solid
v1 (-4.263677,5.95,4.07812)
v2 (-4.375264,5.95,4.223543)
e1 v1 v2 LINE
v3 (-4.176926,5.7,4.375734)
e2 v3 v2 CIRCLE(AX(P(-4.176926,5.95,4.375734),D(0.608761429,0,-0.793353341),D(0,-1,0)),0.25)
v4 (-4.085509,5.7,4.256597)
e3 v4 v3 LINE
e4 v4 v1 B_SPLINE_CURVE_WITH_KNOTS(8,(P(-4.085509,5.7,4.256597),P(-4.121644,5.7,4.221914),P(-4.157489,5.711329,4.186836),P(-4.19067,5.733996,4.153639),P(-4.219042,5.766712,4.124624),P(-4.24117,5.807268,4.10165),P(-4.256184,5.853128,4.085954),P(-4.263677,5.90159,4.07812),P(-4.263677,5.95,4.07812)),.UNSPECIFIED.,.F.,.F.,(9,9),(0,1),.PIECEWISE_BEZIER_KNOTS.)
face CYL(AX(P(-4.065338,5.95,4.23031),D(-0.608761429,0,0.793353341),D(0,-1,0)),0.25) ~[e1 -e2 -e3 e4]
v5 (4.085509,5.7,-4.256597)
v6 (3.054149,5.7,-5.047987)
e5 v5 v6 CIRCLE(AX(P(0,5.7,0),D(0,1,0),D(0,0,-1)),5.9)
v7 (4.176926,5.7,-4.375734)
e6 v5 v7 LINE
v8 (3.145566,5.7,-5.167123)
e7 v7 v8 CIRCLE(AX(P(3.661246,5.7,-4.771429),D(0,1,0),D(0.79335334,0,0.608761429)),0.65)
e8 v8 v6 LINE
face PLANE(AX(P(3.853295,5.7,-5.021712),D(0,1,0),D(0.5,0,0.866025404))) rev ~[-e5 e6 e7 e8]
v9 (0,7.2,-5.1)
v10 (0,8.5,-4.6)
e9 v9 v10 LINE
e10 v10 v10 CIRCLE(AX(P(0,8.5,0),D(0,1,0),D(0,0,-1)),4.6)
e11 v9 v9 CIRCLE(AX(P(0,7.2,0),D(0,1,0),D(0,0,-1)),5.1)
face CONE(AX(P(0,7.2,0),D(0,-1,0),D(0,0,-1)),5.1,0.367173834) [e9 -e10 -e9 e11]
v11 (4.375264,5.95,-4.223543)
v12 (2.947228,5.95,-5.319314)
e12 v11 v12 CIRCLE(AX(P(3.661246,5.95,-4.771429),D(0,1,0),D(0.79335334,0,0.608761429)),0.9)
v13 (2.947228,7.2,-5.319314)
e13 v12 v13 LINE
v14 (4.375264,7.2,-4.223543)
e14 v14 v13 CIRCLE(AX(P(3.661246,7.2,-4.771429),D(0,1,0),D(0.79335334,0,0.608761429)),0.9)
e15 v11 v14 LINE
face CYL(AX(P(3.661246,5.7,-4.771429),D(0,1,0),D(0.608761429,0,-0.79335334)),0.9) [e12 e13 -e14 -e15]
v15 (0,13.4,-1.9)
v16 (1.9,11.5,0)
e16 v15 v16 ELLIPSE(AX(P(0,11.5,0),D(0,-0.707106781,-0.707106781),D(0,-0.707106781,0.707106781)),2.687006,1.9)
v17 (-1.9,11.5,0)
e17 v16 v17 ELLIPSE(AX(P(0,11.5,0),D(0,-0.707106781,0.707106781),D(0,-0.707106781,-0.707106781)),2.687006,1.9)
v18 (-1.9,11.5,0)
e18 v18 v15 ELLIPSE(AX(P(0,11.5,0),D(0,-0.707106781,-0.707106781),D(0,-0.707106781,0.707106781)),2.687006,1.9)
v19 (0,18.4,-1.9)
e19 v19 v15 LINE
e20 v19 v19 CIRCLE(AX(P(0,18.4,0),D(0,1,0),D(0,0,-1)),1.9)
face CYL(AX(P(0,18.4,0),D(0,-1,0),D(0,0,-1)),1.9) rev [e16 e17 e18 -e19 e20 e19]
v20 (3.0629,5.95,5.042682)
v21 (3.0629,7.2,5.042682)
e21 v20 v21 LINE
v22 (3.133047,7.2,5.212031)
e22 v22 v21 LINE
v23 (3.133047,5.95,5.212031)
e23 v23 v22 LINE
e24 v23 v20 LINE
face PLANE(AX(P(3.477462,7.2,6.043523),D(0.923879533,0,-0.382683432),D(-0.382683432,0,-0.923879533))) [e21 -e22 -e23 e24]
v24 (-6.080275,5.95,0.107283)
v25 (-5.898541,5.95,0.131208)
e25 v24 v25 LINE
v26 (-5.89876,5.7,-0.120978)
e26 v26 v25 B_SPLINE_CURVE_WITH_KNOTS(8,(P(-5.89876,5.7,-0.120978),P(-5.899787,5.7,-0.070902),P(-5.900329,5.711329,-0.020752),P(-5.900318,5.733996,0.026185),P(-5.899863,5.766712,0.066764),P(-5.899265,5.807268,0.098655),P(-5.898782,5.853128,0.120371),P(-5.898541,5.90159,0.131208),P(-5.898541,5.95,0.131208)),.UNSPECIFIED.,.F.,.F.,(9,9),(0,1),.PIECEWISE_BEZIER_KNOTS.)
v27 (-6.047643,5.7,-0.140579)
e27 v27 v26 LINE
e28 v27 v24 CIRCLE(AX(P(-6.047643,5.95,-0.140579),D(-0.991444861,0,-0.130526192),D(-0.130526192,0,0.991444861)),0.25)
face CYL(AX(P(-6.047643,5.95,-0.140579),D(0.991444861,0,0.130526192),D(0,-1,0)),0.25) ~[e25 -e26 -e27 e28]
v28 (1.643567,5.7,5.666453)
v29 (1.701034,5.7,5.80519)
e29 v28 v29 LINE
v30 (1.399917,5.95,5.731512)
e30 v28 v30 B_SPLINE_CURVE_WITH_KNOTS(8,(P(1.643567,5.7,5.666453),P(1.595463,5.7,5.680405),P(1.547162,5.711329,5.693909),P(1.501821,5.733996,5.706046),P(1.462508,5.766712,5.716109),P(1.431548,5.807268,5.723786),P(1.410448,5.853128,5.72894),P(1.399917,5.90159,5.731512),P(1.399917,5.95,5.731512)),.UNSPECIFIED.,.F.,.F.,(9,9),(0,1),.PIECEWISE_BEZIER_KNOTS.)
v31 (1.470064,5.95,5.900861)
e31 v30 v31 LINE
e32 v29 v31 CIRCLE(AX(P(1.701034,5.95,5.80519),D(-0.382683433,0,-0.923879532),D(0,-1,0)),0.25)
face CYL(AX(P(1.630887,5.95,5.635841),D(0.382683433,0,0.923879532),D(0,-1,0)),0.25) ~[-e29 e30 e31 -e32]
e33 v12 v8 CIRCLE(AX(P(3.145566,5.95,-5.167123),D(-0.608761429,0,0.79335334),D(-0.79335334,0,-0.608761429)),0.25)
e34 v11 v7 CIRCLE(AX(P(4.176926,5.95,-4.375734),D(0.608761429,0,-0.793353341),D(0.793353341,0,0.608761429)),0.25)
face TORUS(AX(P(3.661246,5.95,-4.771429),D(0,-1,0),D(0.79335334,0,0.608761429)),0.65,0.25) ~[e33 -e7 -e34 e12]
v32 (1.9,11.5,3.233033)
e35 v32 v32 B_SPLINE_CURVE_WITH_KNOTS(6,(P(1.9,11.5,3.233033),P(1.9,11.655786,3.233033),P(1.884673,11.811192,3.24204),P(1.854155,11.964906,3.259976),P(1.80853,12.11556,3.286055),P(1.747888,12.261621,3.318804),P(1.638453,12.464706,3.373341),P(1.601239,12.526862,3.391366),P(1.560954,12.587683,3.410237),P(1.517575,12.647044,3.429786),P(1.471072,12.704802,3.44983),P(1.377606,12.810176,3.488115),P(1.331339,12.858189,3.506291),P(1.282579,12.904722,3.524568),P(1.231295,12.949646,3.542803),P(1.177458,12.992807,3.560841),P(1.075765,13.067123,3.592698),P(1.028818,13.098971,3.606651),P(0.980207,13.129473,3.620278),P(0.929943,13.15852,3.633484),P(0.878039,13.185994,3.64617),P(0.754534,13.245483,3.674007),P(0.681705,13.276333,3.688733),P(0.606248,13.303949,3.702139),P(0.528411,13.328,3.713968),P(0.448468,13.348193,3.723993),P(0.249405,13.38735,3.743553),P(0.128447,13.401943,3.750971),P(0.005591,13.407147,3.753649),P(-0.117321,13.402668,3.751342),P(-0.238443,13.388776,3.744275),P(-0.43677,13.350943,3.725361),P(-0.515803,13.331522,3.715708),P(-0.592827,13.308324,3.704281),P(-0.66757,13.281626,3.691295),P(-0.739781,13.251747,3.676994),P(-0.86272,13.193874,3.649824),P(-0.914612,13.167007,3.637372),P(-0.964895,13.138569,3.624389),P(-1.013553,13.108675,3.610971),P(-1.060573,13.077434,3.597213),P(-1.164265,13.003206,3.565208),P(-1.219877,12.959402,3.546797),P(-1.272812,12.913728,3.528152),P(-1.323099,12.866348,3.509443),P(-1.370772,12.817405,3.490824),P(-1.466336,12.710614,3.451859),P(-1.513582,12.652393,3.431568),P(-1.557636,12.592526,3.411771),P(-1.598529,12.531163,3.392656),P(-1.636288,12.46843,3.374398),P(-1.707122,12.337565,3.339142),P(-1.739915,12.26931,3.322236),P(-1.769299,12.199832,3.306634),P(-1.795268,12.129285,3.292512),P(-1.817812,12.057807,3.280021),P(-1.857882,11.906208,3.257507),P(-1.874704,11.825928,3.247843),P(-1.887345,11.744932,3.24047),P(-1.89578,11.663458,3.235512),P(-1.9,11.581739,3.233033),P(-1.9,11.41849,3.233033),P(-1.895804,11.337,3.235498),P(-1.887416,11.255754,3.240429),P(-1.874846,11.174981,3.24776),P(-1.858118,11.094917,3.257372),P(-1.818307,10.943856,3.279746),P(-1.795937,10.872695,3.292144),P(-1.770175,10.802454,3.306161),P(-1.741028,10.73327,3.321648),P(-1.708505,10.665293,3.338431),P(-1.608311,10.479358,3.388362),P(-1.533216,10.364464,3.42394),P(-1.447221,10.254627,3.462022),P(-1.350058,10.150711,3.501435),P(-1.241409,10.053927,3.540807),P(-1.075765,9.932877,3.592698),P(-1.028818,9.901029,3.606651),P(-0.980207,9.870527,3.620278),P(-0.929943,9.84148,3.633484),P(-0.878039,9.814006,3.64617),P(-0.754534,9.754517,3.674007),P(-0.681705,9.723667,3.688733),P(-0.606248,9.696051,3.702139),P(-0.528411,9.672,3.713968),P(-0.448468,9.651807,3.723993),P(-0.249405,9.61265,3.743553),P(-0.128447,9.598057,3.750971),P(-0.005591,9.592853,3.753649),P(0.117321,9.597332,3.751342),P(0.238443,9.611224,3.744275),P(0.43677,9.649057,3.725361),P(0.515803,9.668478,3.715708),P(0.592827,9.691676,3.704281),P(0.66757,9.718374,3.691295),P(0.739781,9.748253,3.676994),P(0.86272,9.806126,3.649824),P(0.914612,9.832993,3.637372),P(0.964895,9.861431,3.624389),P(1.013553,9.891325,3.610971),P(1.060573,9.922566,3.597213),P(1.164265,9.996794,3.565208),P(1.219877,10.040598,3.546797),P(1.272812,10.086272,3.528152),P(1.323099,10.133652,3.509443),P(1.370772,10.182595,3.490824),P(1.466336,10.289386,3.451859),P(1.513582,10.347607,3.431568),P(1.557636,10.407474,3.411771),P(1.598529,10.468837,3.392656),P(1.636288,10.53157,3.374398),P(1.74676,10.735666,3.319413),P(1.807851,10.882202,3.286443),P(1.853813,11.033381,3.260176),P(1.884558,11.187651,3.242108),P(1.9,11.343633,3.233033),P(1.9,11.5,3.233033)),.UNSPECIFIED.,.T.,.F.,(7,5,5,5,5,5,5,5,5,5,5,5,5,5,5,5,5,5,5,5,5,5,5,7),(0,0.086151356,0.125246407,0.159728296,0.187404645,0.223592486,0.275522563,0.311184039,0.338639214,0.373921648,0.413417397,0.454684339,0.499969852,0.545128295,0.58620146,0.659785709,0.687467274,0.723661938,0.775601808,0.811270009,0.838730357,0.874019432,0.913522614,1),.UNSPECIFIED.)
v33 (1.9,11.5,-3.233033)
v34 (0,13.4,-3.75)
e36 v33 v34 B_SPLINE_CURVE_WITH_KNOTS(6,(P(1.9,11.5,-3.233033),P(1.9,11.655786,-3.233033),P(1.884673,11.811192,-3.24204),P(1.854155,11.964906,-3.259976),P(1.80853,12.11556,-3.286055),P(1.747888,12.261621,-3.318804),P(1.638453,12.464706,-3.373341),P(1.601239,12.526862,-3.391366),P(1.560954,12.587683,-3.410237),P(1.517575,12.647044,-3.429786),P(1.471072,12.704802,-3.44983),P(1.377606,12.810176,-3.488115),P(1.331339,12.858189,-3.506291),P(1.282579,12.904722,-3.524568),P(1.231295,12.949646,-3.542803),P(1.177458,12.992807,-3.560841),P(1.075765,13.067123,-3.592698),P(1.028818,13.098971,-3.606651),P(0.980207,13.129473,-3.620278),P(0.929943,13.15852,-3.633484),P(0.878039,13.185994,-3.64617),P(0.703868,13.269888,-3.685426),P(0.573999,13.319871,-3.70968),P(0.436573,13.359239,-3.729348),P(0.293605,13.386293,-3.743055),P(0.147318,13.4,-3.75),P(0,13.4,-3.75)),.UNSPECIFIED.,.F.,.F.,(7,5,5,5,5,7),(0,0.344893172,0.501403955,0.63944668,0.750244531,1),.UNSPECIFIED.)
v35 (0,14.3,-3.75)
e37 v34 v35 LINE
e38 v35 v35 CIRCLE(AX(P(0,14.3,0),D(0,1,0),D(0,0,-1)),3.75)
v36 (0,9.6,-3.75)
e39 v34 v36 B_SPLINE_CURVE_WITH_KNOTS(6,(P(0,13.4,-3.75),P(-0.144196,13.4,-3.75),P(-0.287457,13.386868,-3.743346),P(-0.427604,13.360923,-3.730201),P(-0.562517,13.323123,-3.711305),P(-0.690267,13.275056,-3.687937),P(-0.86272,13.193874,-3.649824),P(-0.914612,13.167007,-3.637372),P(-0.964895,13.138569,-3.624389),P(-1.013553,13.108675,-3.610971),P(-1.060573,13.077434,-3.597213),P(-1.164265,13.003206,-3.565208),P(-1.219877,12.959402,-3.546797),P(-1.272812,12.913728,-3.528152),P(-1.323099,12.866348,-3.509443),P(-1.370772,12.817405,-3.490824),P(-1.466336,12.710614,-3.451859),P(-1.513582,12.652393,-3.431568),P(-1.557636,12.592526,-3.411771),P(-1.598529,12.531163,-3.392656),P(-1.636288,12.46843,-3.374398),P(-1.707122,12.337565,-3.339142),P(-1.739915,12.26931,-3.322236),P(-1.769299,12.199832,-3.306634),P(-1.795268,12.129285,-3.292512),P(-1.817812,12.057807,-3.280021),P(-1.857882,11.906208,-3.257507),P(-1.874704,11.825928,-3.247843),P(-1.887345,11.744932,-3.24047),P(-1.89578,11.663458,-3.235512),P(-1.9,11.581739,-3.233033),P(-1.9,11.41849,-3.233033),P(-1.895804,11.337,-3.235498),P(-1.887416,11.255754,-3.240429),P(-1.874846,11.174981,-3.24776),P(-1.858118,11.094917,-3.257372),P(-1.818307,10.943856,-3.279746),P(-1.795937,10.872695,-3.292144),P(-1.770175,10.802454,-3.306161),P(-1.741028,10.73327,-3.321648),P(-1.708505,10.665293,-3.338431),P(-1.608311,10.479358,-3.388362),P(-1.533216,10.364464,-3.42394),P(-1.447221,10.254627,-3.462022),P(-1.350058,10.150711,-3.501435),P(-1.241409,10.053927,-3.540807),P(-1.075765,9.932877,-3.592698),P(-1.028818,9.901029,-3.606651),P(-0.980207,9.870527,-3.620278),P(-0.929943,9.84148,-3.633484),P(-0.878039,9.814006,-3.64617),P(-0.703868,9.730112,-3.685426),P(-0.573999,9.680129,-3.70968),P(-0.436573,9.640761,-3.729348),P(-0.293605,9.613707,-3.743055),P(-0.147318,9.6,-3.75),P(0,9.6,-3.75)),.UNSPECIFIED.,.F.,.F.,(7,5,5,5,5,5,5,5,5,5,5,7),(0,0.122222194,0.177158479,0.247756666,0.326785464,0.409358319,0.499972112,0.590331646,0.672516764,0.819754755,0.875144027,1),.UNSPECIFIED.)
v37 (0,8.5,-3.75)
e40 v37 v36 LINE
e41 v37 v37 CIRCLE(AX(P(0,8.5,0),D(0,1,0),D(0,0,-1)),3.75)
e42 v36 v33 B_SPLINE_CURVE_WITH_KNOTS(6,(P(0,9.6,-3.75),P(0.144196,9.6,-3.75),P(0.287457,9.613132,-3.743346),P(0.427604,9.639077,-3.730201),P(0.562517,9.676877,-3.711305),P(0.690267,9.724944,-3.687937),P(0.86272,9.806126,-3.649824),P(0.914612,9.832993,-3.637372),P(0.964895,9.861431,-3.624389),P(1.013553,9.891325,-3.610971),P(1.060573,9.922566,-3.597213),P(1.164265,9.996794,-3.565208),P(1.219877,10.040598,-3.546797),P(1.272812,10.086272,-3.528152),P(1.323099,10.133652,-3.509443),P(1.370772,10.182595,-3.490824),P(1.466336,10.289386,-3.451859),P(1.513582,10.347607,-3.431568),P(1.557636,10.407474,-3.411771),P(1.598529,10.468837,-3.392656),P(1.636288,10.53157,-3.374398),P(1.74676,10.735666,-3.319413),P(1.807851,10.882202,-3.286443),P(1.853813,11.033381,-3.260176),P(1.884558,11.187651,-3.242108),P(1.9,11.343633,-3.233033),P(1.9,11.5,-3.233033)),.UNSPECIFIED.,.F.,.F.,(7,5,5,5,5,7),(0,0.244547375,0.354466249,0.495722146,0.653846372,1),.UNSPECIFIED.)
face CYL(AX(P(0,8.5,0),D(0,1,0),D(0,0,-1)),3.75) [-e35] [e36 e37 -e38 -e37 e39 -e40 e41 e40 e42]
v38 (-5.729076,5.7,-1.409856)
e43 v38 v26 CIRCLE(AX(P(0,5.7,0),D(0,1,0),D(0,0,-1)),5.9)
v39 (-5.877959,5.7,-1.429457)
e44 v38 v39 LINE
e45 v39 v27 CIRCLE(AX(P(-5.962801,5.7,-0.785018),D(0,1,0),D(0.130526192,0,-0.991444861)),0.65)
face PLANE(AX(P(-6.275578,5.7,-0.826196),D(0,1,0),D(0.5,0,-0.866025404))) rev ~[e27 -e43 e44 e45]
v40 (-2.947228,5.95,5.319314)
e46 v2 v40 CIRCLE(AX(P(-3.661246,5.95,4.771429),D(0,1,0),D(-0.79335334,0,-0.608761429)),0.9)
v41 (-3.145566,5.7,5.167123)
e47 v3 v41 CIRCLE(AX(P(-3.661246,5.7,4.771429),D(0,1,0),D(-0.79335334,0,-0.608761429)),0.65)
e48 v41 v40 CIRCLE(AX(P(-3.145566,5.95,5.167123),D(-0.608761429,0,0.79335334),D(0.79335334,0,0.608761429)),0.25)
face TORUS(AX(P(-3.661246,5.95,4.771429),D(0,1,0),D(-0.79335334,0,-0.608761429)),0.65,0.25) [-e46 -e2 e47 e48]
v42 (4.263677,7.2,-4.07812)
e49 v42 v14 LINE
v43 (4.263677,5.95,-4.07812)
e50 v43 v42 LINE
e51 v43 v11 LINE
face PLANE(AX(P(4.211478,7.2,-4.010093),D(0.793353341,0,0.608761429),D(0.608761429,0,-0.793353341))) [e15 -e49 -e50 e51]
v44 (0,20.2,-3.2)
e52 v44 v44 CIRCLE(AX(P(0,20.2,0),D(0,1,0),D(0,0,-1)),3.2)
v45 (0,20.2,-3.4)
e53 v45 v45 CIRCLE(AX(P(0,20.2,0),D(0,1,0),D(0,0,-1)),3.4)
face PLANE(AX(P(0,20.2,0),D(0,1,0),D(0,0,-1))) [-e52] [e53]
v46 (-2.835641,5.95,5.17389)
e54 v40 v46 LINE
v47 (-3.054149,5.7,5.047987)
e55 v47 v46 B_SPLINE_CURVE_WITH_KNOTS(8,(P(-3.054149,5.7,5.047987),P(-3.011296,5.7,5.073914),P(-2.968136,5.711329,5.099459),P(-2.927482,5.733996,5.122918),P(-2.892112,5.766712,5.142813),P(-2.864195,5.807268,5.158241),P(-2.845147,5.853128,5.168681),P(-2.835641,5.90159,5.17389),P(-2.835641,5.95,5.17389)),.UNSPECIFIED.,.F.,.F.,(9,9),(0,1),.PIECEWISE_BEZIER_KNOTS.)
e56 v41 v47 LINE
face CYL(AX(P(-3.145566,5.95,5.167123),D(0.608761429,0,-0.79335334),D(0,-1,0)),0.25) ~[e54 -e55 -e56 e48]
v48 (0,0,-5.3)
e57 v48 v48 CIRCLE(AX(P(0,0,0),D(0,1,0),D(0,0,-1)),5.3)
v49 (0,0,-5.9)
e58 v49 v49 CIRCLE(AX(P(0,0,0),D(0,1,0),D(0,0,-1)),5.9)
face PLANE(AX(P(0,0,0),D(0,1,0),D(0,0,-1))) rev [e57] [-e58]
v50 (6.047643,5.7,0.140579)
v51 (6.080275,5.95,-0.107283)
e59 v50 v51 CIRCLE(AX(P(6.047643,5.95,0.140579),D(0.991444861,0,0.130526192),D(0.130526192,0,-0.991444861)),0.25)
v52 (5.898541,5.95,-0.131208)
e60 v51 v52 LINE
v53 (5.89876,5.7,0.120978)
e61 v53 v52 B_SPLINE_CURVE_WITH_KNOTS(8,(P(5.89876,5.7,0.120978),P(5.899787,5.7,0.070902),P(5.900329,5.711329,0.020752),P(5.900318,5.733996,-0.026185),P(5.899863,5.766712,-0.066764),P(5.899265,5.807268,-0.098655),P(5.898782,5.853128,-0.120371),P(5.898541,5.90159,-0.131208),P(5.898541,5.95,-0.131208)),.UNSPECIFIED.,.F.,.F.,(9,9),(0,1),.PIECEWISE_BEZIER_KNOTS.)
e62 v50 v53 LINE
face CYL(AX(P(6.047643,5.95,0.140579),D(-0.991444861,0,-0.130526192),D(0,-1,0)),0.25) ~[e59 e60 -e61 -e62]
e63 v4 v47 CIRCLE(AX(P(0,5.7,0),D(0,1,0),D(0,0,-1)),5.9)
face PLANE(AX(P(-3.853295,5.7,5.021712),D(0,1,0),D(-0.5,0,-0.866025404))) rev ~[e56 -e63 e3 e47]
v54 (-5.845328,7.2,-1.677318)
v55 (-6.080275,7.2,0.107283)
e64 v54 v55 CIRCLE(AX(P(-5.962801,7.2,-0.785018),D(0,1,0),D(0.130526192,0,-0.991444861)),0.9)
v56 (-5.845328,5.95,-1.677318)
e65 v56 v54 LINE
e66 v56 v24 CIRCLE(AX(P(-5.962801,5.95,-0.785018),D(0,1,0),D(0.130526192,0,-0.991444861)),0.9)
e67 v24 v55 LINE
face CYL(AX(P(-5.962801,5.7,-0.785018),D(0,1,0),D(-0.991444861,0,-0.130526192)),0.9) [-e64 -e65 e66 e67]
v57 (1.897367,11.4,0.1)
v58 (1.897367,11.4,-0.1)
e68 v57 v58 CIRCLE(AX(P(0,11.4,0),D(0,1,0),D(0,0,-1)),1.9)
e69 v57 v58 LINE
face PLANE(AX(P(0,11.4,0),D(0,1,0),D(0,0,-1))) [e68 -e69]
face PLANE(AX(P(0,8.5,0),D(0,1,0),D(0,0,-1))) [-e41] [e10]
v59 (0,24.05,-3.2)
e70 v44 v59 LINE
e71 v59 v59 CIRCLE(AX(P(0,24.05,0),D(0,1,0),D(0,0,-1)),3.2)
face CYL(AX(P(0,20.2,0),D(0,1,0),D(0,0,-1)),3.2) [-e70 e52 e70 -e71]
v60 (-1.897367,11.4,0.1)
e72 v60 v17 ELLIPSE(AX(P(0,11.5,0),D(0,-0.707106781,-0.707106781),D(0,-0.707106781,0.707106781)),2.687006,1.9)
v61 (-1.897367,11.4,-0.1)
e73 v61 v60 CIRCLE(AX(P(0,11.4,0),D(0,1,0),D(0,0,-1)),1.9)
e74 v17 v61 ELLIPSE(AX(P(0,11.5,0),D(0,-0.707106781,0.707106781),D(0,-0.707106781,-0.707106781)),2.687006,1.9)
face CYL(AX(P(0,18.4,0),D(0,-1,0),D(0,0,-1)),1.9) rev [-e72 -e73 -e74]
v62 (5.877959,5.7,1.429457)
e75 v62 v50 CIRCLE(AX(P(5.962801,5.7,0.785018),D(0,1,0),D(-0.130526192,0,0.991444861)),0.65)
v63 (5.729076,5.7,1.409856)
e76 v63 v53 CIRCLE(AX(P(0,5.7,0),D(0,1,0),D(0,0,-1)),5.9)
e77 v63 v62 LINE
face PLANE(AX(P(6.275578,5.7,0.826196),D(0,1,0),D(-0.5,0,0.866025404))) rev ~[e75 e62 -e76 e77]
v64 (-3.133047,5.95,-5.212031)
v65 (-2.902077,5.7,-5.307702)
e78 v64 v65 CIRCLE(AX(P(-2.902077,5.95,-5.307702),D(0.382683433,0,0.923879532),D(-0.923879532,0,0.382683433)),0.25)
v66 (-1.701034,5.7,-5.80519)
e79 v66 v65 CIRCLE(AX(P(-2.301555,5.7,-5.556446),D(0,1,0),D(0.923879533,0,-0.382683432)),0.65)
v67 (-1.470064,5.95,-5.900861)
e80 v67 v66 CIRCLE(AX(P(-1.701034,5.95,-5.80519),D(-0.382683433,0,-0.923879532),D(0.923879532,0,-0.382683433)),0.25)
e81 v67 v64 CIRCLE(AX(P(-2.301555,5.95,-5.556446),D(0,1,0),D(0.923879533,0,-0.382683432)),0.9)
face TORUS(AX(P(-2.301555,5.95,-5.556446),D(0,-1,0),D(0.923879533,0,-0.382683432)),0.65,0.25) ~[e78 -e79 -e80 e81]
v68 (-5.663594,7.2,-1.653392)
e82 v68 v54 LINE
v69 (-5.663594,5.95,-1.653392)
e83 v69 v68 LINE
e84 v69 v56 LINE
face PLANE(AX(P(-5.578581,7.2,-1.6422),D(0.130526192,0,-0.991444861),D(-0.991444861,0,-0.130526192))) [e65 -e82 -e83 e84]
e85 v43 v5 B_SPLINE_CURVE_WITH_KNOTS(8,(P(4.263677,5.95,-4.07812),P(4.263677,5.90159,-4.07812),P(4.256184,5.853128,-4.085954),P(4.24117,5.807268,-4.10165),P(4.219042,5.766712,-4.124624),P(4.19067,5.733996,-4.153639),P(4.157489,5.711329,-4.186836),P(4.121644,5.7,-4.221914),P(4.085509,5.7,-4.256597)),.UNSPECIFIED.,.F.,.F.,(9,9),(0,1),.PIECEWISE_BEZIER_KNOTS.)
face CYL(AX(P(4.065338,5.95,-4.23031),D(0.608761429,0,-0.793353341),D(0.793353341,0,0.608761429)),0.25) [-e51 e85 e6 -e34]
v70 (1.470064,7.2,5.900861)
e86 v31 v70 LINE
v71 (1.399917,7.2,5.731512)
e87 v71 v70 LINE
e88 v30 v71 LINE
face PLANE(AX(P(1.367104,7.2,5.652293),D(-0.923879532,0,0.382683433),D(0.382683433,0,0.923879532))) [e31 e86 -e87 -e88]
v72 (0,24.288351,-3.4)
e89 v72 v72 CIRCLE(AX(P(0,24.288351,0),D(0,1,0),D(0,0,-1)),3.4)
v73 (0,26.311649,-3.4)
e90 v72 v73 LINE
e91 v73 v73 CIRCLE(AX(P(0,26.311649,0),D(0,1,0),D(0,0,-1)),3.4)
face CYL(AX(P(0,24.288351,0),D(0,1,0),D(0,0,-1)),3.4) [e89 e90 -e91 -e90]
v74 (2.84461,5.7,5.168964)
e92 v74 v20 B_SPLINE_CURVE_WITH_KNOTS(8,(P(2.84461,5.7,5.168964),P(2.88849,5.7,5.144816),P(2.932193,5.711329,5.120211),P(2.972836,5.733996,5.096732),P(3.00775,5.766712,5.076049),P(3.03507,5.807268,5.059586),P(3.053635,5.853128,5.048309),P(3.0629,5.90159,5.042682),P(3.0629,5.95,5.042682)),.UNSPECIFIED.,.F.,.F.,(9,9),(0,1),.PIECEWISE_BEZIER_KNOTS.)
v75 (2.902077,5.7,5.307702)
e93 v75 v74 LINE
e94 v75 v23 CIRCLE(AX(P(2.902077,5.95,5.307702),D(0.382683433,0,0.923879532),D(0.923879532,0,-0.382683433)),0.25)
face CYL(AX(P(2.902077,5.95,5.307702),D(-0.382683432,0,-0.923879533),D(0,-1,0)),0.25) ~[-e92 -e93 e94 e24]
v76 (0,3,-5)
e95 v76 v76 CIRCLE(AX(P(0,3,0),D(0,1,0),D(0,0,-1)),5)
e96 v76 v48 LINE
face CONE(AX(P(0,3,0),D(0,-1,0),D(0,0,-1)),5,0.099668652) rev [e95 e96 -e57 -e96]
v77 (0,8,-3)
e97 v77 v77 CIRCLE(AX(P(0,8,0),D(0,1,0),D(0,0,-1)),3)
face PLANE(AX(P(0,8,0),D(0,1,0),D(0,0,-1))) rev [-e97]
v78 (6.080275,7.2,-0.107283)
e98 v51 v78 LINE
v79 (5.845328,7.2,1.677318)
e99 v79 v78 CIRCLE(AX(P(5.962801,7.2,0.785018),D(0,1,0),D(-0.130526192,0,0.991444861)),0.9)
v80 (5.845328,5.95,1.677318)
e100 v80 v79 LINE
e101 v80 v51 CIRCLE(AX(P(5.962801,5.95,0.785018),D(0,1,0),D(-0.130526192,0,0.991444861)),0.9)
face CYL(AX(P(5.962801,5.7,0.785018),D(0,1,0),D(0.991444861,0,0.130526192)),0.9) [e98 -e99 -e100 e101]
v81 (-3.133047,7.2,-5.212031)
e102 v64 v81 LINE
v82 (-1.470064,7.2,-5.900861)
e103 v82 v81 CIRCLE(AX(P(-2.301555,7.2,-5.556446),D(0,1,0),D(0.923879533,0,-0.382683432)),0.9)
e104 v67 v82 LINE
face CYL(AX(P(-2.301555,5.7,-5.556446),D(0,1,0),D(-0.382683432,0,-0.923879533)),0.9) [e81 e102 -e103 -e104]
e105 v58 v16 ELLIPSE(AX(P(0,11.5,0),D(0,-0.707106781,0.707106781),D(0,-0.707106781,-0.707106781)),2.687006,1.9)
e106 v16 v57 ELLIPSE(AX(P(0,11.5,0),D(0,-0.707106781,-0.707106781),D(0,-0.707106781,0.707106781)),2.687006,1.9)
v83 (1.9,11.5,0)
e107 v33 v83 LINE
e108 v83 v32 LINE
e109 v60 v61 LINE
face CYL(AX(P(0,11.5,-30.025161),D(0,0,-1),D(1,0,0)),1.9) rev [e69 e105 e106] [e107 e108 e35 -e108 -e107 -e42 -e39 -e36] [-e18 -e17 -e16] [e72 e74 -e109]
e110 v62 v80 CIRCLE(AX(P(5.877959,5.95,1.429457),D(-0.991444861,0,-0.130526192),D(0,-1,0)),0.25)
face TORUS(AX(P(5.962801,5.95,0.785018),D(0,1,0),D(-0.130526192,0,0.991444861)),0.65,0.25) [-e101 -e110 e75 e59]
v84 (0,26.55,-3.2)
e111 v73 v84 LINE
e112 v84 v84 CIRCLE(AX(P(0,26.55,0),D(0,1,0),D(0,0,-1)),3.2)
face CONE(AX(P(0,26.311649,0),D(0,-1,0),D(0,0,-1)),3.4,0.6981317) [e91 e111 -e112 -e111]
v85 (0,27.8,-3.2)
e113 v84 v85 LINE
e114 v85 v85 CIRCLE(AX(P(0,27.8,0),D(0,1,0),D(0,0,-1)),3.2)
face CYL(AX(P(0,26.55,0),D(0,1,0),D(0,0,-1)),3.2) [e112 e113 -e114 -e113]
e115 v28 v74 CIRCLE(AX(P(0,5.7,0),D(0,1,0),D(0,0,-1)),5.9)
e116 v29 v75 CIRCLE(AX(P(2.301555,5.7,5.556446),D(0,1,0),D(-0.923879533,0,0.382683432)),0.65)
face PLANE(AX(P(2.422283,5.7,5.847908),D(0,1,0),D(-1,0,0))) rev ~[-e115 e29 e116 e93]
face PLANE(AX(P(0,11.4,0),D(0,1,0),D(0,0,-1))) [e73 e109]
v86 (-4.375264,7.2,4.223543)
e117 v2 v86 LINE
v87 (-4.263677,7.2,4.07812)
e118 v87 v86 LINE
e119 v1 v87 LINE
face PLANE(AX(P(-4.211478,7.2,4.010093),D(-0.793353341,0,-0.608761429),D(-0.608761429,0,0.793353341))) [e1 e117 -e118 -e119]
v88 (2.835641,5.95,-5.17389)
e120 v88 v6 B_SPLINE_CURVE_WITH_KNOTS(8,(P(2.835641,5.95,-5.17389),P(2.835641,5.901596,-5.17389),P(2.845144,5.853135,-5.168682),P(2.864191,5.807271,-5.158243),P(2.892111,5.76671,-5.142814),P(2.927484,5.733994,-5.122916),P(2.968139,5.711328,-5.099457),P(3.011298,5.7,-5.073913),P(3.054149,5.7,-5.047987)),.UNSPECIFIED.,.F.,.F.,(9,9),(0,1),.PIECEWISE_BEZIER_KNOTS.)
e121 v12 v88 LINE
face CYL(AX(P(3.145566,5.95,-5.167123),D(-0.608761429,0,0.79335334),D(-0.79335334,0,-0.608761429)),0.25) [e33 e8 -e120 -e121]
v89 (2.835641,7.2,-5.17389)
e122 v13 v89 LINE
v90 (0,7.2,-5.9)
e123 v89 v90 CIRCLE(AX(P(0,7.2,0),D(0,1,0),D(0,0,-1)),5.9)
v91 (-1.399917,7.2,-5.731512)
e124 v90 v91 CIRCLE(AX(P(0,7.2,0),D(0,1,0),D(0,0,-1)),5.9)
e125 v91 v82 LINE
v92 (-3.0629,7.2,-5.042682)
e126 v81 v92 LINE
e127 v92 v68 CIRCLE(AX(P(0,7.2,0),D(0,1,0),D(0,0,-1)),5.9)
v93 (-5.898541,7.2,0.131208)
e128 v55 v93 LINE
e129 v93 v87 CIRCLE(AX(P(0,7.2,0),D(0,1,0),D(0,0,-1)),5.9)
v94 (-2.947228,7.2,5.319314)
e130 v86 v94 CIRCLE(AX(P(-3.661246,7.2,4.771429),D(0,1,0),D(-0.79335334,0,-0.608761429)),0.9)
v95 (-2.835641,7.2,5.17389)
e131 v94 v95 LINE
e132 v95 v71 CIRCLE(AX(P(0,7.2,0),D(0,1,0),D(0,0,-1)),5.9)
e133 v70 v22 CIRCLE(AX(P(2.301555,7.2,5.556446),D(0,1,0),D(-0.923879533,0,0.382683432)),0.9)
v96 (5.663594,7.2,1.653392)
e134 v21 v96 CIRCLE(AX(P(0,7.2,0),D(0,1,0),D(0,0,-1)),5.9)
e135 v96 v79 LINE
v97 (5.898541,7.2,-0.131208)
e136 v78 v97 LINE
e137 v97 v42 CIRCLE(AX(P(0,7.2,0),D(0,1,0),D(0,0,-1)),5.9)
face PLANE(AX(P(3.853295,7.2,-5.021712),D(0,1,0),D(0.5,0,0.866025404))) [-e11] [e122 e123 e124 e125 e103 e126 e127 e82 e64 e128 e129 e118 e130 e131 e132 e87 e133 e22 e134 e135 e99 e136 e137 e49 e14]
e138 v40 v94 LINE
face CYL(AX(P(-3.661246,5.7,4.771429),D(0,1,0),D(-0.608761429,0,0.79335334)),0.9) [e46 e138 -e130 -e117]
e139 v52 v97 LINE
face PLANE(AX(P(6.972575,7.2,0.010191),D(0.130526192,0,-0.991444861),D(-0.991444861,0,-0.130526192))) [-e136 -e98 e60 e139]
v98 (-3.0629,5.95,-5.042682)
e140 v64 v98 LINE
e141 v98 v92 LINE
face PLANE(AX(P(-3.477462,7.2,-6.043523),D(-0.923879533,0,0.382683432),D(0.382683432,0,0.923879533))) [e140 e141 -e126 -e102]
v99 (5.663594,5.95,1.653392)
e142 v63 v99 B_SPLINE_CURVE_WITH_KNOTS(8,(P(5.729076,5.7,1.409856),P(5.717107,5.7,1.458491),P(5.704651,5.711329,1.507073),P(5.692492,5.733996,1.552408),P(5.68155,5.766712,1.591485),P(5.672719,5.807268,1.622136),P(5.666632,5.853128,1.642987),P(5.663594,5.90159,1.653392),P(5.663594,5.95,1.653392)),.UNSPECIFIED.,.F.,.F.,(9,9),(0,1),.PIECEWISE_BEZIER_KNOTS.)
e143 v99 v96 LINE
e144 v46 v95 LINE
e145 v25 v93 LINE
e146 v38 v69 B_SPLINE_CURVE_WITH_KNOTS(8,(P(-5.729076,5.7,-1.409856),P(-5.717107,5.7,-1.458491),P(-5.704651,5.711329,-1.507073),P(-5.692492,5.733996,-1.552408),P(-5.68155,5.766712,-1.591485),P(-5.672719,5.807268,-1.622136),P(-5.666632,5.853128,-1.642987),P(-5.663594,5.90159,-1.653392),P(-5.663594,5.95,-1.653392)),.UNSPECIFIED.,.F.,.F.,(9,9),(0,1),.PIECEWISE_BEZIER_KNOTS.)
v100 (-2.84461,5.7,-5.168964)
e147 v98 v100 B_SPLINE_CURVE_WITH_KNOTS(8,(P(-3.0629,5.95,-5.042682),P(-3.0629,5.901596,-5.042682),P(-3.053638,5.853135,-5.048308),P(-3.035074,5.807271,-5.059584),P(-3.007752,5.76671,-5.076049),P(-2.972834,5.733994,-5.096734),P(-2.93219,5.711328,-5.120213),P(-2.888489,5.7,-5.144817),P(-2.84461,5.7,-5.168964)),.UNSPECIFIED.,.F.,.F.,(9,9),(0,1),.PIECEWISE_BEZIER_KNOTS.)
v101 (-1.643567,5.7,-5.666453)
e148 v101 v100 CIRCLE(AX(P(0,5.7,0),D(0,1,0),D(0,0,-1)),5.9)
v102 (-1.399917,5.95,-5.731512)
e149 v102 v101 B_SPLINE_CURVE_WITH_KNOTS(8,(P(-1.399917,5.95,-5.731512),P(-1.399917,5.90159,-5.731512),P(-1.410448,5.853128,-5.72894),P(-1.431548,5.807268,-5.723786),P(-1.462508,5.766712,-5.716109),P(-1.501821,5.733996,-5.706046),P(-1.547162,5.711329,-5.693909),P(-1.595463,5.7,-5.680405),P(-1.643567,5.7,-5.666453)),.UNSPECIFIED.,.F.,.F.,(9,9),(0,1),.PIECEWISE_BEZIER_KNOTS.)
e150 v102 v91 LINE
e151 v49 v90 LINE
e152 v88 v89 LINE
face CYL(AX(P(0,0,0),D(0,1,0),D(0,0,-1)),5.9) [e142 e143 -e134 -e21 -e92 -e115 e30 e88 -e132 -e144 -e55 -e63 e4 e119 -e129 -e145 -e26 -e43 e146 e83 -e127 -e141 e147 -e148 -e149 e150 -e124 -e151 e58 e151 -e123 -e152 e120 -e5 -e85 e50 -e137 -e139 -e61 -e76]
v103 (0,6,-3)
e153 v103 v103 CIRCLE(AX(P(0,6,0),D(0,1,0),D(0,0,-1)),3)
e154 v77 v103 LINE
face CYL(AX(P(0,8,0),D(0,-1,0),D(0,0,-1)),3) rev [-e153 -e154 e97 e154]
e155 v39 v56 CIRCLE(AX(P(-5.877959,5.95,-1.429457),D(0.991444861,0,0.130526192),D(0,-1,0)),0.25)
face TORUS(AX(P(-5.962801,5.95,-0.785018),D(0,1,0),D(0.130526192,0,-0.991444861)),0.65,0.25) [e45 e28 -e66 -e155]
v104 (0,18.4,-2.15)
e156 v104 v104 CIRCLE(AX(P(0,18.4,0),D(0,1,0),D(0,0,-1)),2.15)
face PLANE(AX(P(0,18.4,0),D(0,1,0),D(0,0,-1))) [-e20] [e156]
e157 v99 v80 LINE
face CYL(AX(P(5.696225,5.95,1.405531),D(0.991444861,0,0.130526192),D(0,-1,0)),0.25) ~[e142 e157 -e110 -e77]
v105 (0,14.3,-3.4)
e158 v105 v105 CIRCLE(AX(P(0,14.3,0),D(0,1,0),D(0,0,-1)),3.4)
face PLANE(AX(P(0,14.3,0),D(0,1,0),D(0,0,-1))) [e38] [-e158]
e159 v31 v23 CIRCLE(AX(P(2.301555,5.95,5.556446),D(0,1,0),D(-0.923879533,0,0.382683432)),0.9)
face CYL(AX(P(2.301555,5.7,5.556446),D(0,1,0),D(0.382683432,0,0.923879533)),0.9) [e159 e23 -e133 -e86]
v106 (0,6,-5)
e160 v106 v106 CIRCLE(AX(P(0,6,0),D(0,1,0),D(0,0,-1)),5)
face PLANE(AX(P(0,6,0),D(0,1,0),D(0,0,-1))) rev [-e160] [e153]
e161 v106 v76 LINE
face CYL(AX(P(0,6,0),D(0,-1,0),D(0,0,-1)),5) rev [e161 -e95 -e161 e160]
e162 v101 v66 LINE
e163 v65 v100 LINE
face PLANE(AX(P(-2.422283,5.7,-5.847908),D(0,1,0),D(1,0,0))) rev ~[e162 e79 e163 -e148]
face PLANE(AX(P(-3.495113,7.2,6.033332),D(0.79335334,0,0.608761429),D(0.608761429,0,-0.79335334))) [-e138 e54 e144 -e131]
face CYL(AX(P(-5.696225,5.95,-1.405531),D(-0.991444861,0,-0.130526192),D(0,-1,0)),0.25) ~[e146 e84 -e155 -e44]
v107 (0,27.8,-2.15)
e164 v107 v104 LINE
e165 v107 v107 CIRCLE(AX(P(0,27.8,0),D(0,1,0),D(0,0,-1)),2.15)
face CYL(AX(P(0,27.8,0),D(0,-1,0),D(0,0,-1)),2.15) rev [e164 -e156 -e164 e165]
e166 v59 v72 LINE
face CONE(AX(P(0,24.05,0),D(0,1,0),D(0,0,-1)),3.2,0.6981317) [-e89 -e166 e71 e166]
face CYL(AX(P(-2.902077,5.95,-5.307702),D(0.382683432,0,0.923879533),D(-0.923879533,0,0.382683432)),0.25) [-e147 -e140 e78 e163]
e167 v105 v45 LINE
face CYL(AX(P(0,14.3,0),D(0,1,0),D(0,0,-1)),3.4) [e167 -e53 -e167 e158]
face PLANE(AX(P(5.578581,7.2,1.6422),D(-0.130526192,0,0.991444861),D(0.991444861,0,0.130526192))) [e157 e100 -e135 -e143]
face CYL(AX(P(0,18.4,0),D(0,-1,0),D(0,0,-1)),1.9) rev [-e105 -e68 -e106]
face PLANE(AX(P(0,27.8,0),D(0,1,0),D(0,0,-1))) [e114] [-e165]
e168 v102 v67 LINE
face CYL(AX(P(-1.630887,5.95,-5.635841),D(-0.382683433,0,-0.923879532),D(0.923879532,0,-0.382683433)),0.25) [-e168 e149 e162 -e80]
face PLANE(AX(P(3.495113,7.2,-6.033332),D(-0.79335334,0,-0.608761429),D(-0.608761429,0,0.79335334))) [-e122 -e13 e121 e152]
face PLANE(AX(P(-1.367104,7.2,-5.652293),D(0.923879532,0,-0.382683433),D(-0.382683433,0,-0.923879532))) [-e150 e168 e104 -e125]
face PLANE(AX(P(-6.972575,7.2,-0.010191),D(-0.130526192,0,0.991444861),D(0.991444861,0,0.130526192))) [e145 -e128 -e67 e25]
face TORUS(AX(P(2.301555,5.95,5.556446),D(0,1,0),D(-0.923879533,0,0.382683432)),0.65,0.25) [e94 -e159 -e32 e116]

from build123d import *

# Parameters (mm, degrees)
CUT_EXTRUDE1_DEPTH              = 30.025161498
CUT_EXTRUDE1_DEPTH_BACK         = 30.025161498
SKETCH2_R                       = 1.9
BOSS_EXTRUDE3_DEPTH             = 1.5
FILLET1_RADIUS                  = 0.9
FILLET1_LENGTH                  = 1.5
FILLET2_R                       = 0.25
CIRPATTERN5_COUNT               = 6
FILLET1_OF_CIRPATTERN5_2_RADIUS = 0.9
FILLET1_OF_CIRPATTERN5_2_LENGTH = 1.5
FILLET1_OF_CIRPATTERN5_3_RADIUS = 0.9
FILLET1_OF_CIRPATTERN5_3_LENGTH = 1.5
FILLET1_OF_CIRPATTERN5_4_RADIUS = 0.9
FILLET1_OF_CIRPATTERN5_4_LENGTH = 1.5
FILLET1_OF_CIRPATTERN5_5_RADIUS = 0.9
FILLET1_OF_CIRPATTERN5_5_LENGTH = 1.5
FILLET1_OF_CIRPATTERN5_6_RADIUS = 0.9
FILLET1_OF_CIRPATTERN5_6_LENGTH = 1.5
FILLET3_R                       = 0.25


with BuildPart() as part:
    # Sketch1 → Revolve1 (revolve)
    with BuildSketch(Plane(origin=(0, 0, 0), x_dir=(0, 0, -1), z_dir=(1, 0, 0))):
        Polygon((0, 8), (3, 8), (3, 6), (5, 6), (5, 3), (5.3, 0), (5.9, 0), (5.9, 7.2), (5.1, 7.2), (4.6, 8.5), (3.75, 8.5), (3.75, 14.3), (3.4, 14.3), (3.4, 20.2), (3.2, 20.2), (3.2, 24.05), (3.4, 24.288350719), (3.4, 26.311649281), (3.2, 26.55), (3.2, 27.8), (2.15, 27.8), (2.15, 18.4), (1.9, 18.4), (1.9, 11.4), (0, 11.4), align=None)
    revolve(axis=Axis((0, 0, 0), (0, 1, 0)))

    # Sketch2 → Cut-Extrude1 (cut, two sides: drawn at the far end of the back side and taken through both)
    with BuildSketch(Plane.XY.offset(-CUT_EXTRUDE1_DEPTH_BACK)):
        with Locations((0, 11.5)):
            Circle(SKETCH2_R)
    extrude(amount=CUT_EXTRUDE1_DEPTH + CUT_EXTRUDE1_DEPTH_BACK, mode=Mode.SUBTRACT)

    # Sketch6 → Boss-Extrude3 (add)
    with BuildSketch(Plane(origin=(0, 7.2, 0), x_dir=(1, 0, 0), z_dir=(0, 1, 0))):
        Polygon((-3.477462054, 6.043522717), (-3.030086713, 4.963463101), (-1.367103554, 5.652293279), (-1.814478896, 6.732352896), align=None)
    boss_extrude3 = extrude(amount=-BOSS_EXTRUDE3_DEPTH)

    # Fillet1: full round fillet: the end face becomes a half cylinder, R = half its width
    fillet1_face = Plane((-2.645970475, 6.45, -6.387937807), x_dir=(0, 1, 0), z_dir=(-0.382683432365, 0, -0.923879532511))  # on the end face: x along it, z out of the body
    fillet1_slab = fillet1_face.offset(-FILLET1_RADIUS / 2) * Box(FILLET1_LENGTH, 2 * FILLET1_RADIUS, FILLET1_RADIUS, mode=Mode.PRIVATE)  # the body's end, R deep
    fillet1_round = Plane((-2.301555386, 6.45, -5.556446228), x_dir=(-0.382683432365, 0, -0.923879532511), z_dir=(0, 1, 0)) * Cylinder(FILLET1_RADIUS, FILLET1_LENGTH, mode=Mode.PRIVATE)  # its axis R under the face
    add(fillet1_slab - fillet1_round, mode=Mode.SUBTRACT)

    # Fillet2
    fillet2_edges = [part.edges().sort_by_distance(p)[0] for p in [
        (-3.097973615, 5.7, -5.12735658),
        (-2.645970475, 5.7, -6.387937807),
        (-1.434990456, 5.7, -5.816186758),
    ]]
    fillet(fillet2_edges, radius=FILLET2_R)

    # CirPattern5: Boss-Extrude3 ×6 about axis
    cirpattern5_axis = Axis((0, 0, 0), (0, 1, 0))
    for i in range(1, CIRPATTERN5_COUNT):
        add(boss_extrude3.rotate(cirpattern5_axis, i * 360 / CIRPATTERN5_COUNT))

    # Fillet1 of CirPattern5 2: full round fillet: the end face becomes a half cylinder, R = half its width
    fillet1_of_cirpattern5_2_face = Plane((-6.855101656, 6.45, -0.902491254), x_dir=(0, 1, 0), z_dir=(-0.991444861374, 0, -0.13052619222))  # on the end face: x along it, z out of the body
    fillet1_of_cirpattern5_2_slab = fillet1_of_cirpattern5_2_face.offset(-FILLET1_OF_CIRPATTERN5_2_RADIUS / 2) * Box(FILLET1_OF_CIRPATTERN5_2_LENGTH, 2 * FILLET1_OF_CIRPATTERN5_2_RADIUS, FILLET1_OF_CIRPATTERN5_2_RADIUS, mode=Mode.PRIVATE)  # the body's end, R deep
    fillet1_of_cirpattern5_2_round = Plane((-5.962801281, 6.45, -0.785017681), x_dir=(-0.991444861374, 0, -0.13052619222), z_dir=(0, 1, 0)) * Cylinder(FILLET1_OF_CIRPATTERN5_2_RADIUS, FILLET1_OF_CIRPATTERN5_2_LENGTH, mode=Mode.PRIVATE)  # its axis R under the face
    add(fillet1_of_cirpattern5_2_slab - fillet1_of_cirpattern5_2_round, mode=Mode.SUBTRACT)

    # Fillet1 of CirPattern5 3: full round fillet: the end face becomes a half cylinder, R = half its width
    fillet1_of_cirpattern5_3_face = Plane((-4.209131181, 6.45, 5.485446553), x_dir=(0, 1, 0), z_dir=(-0.608761429009, 0, 0.793353340291))  # on the end face: x along it, z out of the body
    fillet1_of_cirpattern5_3_slab = fillet1_of_cirpattern5_3_face.offset(-FILLET1_OF_CIRPATTERN5_3_RADIUS / 2) * Box(FILLET1_OF_CIRPATTERN5_3_LENGTH, 2 * FILLET1_OF_CIRPATTERN5_3_RADIUS, FILLET1_OF_CIRPATTERN5_3_RADIUS, mode=Mode.PRIVATE)  # the body's end, R deep
    fillet1_of_cirpattern5_3_round = Plane((-3.661245895, 6.45, 4.771428547), x_dir=(-0.608761429009, 0, 0.793353340291), z_dir=(0, 1, 0)) * Cylinder(FILLET1_OF_CIRPATTERN5_3_RADIUS, FILLET1_OF_CIRPATTERN5_3_LENGTH, mode=Mode.PRIVATE)  # its axis R under the face
    add(fillet1_of_cirpattern5_3_slab - fillet1_of_cirpattern5_3_round, mode=Mode.SUBTRACT)

    # Fillet1 of CirPattern5 4: full round fillet: the end face becomes a half cylinder, R = half its width
    fillet1_of_cirpattern5_4_face = Plane((2.645970475, 6.45, 6.387937807), x_dir=(0, 1, 0), z_dir=(0.382683432365, 0, 0.923879532511))  # on the end face: x along it, z out of the body
    fillet1_of_cirpattern5_4_slab = fillet1_of_cirpattern5_4_face.offset(-FILLET1_OF_CIRPATTERN5_4_RADIUS / 2) * Box(FILLET1_OF_CIRPATTERN5_4_LENGTH, 2 * FILLET1_OF_CIRPATTERN5_4_RADIUS, FILLET1_OF_CIRPATTERN5_4_RADIUS, mode=Mode.PRIVATE)  # the body's end, R deep
    fillet1_of_cirpattern5_4_round = Plane((2.301555386, 6.45, 5.556446228), x_dir=(0.382683432365, 0, 0.923879532511), z_dir=(0, 1, 0)) * Cylinder(FILLET1_OF_CIRPATTERN5_4_RADIUS, FILLET1_OF_CIRPATTERN5_4_LENGTH, mode=Mode.PRIVATE)  # its axis R under the face
    add(fillet1_of_cirpattern5_4_slab - fillet1_of_cirpattern5_4_round, mode=Mode.SUBTRACT)

    # Fillet1 of CirPattern5 5: full round fillet: the end face becomes a half cylinder, R = half its width
    fillet1_of_cirpattern5_5_face = Plane((6.855101656, 6.45, 0.902491254), x_dir=(0, 1, 0), z_dir=(0.991444861374, 0, 0.13052619222))  # on the end face: x along it, z out of the body
    fillet1_of_cirpattern5_5_slab = fillet1_of_cirpattern5_5_face.offset(-FILLET1_OF_CIRPATTERN5_5_RADIUS / 2) * Box(FILLET1_OF_CIRPATTERN5_5_LENGTH, 2 * FILLET1_OF_CIRPATTERN5_5_RADIUS, FILLET1_OF_CIRPATTERN5_5_RADIUS, mode=Mode.PRIVATE)  # the body's end, R deep
    fillet1_of_cirpattern5_5_round = Plane((5.962801281, 6.45, 0.785017681), x_dir=(0.991444861374, 0, 0.13052619222), z_dir=(0, 1, 0)) * Cylinder(FILLET1_OF_CIRPATTERN5_5_RADIUS, FILLET1_OF_CIRPATTERN5_5_LENGTH, mode=Mode.PRIVATE)  # its axis R under the face
    add(fillet1_of_cirpattern5_5_slab - fillet1_of_cirpattern5_5_round, mode=Mode.SUBTRACT)

    # Fillet1 of CirPattern5 6: full round fillet: the end face becomes a half cylinder, R = half its width
    fillet1_of_cirpattern5_6_face = Plane((4.209131181, 6.45, -5.485446553), x_dir=(0, 1, 0), z_dir=(0.608761429009, 0, -0.793353340291))  # on the end face: x along it, z out of the body
    fillet1_of_cirpattern5_6_slab = fillet1_of_cirpattern5_6_face.offset(-FILLET1_OF_CIRPATTERN5_6_RADIUS / 2) * Box(FILLET1_OF_CIRPATTERN5_6_LENGTH, 2 * FILLET1_OF_CIRPATTERN5_6_RADIUS, FILLET1_OF_CIRPATTERN5_6_RADIUS, mode=Mode.PRIVATE)  # the body's end, R deep
    fillet1_of_cirpattern5_6_round = Plane((3.661245895, 6.45, -4.771428547), x_dir=(0.608761429009, 0, -0.793353340291), z_dir=(0, 1, 0)) * Cylinder(FILLET1_OF_CIRPATTERN5_6_RADIUS, FILLET1_OF_CIRPATTERN5_6_LENGTH, mode=Mode.PRIVATE)  # its axis R under the face
    add(fillet1_of_cirpattern5_6_slab - fillet1_of_cirpattern5_6_round, mode=Mode.SUBTRACT)

    # Fillet3
    fillet3_edges = [part.edges().sort_by_distance(p)[0] for p in [
        (-5.754460714, 5.7, -1.66535519),
        (-4.319470258, 5.7, 4.150831569),
        (1.434990456, 5.7, 5.816186758),
        (5.754460714, 5.7, 1.66535519),
        (4.319470258, 5.7, -4.150831569),
        (-5.98940786, 5.7, 0.119245561),
        (-6.855101656, 5.7, -0.902491254),
        (-2.891434245, 5.7, 5.246602141),
        (-4.209131181, 5.7, 5.485446553),
        (3.097973615, 5.7, 5.12735658),
        (2.645970475, 5.7, 6.387937807),
        (5.98940786, 5.7, -0.119245561),
        (6.855101656, 5.7, 0.902491254),
        (2.891434245, 5.7, -5.246602141),
        (4.209131181, 5.7, -5.485446553),
    ]]
    fillet(fillet3_edges, radius=FILLET3_R)


solid = part.part
